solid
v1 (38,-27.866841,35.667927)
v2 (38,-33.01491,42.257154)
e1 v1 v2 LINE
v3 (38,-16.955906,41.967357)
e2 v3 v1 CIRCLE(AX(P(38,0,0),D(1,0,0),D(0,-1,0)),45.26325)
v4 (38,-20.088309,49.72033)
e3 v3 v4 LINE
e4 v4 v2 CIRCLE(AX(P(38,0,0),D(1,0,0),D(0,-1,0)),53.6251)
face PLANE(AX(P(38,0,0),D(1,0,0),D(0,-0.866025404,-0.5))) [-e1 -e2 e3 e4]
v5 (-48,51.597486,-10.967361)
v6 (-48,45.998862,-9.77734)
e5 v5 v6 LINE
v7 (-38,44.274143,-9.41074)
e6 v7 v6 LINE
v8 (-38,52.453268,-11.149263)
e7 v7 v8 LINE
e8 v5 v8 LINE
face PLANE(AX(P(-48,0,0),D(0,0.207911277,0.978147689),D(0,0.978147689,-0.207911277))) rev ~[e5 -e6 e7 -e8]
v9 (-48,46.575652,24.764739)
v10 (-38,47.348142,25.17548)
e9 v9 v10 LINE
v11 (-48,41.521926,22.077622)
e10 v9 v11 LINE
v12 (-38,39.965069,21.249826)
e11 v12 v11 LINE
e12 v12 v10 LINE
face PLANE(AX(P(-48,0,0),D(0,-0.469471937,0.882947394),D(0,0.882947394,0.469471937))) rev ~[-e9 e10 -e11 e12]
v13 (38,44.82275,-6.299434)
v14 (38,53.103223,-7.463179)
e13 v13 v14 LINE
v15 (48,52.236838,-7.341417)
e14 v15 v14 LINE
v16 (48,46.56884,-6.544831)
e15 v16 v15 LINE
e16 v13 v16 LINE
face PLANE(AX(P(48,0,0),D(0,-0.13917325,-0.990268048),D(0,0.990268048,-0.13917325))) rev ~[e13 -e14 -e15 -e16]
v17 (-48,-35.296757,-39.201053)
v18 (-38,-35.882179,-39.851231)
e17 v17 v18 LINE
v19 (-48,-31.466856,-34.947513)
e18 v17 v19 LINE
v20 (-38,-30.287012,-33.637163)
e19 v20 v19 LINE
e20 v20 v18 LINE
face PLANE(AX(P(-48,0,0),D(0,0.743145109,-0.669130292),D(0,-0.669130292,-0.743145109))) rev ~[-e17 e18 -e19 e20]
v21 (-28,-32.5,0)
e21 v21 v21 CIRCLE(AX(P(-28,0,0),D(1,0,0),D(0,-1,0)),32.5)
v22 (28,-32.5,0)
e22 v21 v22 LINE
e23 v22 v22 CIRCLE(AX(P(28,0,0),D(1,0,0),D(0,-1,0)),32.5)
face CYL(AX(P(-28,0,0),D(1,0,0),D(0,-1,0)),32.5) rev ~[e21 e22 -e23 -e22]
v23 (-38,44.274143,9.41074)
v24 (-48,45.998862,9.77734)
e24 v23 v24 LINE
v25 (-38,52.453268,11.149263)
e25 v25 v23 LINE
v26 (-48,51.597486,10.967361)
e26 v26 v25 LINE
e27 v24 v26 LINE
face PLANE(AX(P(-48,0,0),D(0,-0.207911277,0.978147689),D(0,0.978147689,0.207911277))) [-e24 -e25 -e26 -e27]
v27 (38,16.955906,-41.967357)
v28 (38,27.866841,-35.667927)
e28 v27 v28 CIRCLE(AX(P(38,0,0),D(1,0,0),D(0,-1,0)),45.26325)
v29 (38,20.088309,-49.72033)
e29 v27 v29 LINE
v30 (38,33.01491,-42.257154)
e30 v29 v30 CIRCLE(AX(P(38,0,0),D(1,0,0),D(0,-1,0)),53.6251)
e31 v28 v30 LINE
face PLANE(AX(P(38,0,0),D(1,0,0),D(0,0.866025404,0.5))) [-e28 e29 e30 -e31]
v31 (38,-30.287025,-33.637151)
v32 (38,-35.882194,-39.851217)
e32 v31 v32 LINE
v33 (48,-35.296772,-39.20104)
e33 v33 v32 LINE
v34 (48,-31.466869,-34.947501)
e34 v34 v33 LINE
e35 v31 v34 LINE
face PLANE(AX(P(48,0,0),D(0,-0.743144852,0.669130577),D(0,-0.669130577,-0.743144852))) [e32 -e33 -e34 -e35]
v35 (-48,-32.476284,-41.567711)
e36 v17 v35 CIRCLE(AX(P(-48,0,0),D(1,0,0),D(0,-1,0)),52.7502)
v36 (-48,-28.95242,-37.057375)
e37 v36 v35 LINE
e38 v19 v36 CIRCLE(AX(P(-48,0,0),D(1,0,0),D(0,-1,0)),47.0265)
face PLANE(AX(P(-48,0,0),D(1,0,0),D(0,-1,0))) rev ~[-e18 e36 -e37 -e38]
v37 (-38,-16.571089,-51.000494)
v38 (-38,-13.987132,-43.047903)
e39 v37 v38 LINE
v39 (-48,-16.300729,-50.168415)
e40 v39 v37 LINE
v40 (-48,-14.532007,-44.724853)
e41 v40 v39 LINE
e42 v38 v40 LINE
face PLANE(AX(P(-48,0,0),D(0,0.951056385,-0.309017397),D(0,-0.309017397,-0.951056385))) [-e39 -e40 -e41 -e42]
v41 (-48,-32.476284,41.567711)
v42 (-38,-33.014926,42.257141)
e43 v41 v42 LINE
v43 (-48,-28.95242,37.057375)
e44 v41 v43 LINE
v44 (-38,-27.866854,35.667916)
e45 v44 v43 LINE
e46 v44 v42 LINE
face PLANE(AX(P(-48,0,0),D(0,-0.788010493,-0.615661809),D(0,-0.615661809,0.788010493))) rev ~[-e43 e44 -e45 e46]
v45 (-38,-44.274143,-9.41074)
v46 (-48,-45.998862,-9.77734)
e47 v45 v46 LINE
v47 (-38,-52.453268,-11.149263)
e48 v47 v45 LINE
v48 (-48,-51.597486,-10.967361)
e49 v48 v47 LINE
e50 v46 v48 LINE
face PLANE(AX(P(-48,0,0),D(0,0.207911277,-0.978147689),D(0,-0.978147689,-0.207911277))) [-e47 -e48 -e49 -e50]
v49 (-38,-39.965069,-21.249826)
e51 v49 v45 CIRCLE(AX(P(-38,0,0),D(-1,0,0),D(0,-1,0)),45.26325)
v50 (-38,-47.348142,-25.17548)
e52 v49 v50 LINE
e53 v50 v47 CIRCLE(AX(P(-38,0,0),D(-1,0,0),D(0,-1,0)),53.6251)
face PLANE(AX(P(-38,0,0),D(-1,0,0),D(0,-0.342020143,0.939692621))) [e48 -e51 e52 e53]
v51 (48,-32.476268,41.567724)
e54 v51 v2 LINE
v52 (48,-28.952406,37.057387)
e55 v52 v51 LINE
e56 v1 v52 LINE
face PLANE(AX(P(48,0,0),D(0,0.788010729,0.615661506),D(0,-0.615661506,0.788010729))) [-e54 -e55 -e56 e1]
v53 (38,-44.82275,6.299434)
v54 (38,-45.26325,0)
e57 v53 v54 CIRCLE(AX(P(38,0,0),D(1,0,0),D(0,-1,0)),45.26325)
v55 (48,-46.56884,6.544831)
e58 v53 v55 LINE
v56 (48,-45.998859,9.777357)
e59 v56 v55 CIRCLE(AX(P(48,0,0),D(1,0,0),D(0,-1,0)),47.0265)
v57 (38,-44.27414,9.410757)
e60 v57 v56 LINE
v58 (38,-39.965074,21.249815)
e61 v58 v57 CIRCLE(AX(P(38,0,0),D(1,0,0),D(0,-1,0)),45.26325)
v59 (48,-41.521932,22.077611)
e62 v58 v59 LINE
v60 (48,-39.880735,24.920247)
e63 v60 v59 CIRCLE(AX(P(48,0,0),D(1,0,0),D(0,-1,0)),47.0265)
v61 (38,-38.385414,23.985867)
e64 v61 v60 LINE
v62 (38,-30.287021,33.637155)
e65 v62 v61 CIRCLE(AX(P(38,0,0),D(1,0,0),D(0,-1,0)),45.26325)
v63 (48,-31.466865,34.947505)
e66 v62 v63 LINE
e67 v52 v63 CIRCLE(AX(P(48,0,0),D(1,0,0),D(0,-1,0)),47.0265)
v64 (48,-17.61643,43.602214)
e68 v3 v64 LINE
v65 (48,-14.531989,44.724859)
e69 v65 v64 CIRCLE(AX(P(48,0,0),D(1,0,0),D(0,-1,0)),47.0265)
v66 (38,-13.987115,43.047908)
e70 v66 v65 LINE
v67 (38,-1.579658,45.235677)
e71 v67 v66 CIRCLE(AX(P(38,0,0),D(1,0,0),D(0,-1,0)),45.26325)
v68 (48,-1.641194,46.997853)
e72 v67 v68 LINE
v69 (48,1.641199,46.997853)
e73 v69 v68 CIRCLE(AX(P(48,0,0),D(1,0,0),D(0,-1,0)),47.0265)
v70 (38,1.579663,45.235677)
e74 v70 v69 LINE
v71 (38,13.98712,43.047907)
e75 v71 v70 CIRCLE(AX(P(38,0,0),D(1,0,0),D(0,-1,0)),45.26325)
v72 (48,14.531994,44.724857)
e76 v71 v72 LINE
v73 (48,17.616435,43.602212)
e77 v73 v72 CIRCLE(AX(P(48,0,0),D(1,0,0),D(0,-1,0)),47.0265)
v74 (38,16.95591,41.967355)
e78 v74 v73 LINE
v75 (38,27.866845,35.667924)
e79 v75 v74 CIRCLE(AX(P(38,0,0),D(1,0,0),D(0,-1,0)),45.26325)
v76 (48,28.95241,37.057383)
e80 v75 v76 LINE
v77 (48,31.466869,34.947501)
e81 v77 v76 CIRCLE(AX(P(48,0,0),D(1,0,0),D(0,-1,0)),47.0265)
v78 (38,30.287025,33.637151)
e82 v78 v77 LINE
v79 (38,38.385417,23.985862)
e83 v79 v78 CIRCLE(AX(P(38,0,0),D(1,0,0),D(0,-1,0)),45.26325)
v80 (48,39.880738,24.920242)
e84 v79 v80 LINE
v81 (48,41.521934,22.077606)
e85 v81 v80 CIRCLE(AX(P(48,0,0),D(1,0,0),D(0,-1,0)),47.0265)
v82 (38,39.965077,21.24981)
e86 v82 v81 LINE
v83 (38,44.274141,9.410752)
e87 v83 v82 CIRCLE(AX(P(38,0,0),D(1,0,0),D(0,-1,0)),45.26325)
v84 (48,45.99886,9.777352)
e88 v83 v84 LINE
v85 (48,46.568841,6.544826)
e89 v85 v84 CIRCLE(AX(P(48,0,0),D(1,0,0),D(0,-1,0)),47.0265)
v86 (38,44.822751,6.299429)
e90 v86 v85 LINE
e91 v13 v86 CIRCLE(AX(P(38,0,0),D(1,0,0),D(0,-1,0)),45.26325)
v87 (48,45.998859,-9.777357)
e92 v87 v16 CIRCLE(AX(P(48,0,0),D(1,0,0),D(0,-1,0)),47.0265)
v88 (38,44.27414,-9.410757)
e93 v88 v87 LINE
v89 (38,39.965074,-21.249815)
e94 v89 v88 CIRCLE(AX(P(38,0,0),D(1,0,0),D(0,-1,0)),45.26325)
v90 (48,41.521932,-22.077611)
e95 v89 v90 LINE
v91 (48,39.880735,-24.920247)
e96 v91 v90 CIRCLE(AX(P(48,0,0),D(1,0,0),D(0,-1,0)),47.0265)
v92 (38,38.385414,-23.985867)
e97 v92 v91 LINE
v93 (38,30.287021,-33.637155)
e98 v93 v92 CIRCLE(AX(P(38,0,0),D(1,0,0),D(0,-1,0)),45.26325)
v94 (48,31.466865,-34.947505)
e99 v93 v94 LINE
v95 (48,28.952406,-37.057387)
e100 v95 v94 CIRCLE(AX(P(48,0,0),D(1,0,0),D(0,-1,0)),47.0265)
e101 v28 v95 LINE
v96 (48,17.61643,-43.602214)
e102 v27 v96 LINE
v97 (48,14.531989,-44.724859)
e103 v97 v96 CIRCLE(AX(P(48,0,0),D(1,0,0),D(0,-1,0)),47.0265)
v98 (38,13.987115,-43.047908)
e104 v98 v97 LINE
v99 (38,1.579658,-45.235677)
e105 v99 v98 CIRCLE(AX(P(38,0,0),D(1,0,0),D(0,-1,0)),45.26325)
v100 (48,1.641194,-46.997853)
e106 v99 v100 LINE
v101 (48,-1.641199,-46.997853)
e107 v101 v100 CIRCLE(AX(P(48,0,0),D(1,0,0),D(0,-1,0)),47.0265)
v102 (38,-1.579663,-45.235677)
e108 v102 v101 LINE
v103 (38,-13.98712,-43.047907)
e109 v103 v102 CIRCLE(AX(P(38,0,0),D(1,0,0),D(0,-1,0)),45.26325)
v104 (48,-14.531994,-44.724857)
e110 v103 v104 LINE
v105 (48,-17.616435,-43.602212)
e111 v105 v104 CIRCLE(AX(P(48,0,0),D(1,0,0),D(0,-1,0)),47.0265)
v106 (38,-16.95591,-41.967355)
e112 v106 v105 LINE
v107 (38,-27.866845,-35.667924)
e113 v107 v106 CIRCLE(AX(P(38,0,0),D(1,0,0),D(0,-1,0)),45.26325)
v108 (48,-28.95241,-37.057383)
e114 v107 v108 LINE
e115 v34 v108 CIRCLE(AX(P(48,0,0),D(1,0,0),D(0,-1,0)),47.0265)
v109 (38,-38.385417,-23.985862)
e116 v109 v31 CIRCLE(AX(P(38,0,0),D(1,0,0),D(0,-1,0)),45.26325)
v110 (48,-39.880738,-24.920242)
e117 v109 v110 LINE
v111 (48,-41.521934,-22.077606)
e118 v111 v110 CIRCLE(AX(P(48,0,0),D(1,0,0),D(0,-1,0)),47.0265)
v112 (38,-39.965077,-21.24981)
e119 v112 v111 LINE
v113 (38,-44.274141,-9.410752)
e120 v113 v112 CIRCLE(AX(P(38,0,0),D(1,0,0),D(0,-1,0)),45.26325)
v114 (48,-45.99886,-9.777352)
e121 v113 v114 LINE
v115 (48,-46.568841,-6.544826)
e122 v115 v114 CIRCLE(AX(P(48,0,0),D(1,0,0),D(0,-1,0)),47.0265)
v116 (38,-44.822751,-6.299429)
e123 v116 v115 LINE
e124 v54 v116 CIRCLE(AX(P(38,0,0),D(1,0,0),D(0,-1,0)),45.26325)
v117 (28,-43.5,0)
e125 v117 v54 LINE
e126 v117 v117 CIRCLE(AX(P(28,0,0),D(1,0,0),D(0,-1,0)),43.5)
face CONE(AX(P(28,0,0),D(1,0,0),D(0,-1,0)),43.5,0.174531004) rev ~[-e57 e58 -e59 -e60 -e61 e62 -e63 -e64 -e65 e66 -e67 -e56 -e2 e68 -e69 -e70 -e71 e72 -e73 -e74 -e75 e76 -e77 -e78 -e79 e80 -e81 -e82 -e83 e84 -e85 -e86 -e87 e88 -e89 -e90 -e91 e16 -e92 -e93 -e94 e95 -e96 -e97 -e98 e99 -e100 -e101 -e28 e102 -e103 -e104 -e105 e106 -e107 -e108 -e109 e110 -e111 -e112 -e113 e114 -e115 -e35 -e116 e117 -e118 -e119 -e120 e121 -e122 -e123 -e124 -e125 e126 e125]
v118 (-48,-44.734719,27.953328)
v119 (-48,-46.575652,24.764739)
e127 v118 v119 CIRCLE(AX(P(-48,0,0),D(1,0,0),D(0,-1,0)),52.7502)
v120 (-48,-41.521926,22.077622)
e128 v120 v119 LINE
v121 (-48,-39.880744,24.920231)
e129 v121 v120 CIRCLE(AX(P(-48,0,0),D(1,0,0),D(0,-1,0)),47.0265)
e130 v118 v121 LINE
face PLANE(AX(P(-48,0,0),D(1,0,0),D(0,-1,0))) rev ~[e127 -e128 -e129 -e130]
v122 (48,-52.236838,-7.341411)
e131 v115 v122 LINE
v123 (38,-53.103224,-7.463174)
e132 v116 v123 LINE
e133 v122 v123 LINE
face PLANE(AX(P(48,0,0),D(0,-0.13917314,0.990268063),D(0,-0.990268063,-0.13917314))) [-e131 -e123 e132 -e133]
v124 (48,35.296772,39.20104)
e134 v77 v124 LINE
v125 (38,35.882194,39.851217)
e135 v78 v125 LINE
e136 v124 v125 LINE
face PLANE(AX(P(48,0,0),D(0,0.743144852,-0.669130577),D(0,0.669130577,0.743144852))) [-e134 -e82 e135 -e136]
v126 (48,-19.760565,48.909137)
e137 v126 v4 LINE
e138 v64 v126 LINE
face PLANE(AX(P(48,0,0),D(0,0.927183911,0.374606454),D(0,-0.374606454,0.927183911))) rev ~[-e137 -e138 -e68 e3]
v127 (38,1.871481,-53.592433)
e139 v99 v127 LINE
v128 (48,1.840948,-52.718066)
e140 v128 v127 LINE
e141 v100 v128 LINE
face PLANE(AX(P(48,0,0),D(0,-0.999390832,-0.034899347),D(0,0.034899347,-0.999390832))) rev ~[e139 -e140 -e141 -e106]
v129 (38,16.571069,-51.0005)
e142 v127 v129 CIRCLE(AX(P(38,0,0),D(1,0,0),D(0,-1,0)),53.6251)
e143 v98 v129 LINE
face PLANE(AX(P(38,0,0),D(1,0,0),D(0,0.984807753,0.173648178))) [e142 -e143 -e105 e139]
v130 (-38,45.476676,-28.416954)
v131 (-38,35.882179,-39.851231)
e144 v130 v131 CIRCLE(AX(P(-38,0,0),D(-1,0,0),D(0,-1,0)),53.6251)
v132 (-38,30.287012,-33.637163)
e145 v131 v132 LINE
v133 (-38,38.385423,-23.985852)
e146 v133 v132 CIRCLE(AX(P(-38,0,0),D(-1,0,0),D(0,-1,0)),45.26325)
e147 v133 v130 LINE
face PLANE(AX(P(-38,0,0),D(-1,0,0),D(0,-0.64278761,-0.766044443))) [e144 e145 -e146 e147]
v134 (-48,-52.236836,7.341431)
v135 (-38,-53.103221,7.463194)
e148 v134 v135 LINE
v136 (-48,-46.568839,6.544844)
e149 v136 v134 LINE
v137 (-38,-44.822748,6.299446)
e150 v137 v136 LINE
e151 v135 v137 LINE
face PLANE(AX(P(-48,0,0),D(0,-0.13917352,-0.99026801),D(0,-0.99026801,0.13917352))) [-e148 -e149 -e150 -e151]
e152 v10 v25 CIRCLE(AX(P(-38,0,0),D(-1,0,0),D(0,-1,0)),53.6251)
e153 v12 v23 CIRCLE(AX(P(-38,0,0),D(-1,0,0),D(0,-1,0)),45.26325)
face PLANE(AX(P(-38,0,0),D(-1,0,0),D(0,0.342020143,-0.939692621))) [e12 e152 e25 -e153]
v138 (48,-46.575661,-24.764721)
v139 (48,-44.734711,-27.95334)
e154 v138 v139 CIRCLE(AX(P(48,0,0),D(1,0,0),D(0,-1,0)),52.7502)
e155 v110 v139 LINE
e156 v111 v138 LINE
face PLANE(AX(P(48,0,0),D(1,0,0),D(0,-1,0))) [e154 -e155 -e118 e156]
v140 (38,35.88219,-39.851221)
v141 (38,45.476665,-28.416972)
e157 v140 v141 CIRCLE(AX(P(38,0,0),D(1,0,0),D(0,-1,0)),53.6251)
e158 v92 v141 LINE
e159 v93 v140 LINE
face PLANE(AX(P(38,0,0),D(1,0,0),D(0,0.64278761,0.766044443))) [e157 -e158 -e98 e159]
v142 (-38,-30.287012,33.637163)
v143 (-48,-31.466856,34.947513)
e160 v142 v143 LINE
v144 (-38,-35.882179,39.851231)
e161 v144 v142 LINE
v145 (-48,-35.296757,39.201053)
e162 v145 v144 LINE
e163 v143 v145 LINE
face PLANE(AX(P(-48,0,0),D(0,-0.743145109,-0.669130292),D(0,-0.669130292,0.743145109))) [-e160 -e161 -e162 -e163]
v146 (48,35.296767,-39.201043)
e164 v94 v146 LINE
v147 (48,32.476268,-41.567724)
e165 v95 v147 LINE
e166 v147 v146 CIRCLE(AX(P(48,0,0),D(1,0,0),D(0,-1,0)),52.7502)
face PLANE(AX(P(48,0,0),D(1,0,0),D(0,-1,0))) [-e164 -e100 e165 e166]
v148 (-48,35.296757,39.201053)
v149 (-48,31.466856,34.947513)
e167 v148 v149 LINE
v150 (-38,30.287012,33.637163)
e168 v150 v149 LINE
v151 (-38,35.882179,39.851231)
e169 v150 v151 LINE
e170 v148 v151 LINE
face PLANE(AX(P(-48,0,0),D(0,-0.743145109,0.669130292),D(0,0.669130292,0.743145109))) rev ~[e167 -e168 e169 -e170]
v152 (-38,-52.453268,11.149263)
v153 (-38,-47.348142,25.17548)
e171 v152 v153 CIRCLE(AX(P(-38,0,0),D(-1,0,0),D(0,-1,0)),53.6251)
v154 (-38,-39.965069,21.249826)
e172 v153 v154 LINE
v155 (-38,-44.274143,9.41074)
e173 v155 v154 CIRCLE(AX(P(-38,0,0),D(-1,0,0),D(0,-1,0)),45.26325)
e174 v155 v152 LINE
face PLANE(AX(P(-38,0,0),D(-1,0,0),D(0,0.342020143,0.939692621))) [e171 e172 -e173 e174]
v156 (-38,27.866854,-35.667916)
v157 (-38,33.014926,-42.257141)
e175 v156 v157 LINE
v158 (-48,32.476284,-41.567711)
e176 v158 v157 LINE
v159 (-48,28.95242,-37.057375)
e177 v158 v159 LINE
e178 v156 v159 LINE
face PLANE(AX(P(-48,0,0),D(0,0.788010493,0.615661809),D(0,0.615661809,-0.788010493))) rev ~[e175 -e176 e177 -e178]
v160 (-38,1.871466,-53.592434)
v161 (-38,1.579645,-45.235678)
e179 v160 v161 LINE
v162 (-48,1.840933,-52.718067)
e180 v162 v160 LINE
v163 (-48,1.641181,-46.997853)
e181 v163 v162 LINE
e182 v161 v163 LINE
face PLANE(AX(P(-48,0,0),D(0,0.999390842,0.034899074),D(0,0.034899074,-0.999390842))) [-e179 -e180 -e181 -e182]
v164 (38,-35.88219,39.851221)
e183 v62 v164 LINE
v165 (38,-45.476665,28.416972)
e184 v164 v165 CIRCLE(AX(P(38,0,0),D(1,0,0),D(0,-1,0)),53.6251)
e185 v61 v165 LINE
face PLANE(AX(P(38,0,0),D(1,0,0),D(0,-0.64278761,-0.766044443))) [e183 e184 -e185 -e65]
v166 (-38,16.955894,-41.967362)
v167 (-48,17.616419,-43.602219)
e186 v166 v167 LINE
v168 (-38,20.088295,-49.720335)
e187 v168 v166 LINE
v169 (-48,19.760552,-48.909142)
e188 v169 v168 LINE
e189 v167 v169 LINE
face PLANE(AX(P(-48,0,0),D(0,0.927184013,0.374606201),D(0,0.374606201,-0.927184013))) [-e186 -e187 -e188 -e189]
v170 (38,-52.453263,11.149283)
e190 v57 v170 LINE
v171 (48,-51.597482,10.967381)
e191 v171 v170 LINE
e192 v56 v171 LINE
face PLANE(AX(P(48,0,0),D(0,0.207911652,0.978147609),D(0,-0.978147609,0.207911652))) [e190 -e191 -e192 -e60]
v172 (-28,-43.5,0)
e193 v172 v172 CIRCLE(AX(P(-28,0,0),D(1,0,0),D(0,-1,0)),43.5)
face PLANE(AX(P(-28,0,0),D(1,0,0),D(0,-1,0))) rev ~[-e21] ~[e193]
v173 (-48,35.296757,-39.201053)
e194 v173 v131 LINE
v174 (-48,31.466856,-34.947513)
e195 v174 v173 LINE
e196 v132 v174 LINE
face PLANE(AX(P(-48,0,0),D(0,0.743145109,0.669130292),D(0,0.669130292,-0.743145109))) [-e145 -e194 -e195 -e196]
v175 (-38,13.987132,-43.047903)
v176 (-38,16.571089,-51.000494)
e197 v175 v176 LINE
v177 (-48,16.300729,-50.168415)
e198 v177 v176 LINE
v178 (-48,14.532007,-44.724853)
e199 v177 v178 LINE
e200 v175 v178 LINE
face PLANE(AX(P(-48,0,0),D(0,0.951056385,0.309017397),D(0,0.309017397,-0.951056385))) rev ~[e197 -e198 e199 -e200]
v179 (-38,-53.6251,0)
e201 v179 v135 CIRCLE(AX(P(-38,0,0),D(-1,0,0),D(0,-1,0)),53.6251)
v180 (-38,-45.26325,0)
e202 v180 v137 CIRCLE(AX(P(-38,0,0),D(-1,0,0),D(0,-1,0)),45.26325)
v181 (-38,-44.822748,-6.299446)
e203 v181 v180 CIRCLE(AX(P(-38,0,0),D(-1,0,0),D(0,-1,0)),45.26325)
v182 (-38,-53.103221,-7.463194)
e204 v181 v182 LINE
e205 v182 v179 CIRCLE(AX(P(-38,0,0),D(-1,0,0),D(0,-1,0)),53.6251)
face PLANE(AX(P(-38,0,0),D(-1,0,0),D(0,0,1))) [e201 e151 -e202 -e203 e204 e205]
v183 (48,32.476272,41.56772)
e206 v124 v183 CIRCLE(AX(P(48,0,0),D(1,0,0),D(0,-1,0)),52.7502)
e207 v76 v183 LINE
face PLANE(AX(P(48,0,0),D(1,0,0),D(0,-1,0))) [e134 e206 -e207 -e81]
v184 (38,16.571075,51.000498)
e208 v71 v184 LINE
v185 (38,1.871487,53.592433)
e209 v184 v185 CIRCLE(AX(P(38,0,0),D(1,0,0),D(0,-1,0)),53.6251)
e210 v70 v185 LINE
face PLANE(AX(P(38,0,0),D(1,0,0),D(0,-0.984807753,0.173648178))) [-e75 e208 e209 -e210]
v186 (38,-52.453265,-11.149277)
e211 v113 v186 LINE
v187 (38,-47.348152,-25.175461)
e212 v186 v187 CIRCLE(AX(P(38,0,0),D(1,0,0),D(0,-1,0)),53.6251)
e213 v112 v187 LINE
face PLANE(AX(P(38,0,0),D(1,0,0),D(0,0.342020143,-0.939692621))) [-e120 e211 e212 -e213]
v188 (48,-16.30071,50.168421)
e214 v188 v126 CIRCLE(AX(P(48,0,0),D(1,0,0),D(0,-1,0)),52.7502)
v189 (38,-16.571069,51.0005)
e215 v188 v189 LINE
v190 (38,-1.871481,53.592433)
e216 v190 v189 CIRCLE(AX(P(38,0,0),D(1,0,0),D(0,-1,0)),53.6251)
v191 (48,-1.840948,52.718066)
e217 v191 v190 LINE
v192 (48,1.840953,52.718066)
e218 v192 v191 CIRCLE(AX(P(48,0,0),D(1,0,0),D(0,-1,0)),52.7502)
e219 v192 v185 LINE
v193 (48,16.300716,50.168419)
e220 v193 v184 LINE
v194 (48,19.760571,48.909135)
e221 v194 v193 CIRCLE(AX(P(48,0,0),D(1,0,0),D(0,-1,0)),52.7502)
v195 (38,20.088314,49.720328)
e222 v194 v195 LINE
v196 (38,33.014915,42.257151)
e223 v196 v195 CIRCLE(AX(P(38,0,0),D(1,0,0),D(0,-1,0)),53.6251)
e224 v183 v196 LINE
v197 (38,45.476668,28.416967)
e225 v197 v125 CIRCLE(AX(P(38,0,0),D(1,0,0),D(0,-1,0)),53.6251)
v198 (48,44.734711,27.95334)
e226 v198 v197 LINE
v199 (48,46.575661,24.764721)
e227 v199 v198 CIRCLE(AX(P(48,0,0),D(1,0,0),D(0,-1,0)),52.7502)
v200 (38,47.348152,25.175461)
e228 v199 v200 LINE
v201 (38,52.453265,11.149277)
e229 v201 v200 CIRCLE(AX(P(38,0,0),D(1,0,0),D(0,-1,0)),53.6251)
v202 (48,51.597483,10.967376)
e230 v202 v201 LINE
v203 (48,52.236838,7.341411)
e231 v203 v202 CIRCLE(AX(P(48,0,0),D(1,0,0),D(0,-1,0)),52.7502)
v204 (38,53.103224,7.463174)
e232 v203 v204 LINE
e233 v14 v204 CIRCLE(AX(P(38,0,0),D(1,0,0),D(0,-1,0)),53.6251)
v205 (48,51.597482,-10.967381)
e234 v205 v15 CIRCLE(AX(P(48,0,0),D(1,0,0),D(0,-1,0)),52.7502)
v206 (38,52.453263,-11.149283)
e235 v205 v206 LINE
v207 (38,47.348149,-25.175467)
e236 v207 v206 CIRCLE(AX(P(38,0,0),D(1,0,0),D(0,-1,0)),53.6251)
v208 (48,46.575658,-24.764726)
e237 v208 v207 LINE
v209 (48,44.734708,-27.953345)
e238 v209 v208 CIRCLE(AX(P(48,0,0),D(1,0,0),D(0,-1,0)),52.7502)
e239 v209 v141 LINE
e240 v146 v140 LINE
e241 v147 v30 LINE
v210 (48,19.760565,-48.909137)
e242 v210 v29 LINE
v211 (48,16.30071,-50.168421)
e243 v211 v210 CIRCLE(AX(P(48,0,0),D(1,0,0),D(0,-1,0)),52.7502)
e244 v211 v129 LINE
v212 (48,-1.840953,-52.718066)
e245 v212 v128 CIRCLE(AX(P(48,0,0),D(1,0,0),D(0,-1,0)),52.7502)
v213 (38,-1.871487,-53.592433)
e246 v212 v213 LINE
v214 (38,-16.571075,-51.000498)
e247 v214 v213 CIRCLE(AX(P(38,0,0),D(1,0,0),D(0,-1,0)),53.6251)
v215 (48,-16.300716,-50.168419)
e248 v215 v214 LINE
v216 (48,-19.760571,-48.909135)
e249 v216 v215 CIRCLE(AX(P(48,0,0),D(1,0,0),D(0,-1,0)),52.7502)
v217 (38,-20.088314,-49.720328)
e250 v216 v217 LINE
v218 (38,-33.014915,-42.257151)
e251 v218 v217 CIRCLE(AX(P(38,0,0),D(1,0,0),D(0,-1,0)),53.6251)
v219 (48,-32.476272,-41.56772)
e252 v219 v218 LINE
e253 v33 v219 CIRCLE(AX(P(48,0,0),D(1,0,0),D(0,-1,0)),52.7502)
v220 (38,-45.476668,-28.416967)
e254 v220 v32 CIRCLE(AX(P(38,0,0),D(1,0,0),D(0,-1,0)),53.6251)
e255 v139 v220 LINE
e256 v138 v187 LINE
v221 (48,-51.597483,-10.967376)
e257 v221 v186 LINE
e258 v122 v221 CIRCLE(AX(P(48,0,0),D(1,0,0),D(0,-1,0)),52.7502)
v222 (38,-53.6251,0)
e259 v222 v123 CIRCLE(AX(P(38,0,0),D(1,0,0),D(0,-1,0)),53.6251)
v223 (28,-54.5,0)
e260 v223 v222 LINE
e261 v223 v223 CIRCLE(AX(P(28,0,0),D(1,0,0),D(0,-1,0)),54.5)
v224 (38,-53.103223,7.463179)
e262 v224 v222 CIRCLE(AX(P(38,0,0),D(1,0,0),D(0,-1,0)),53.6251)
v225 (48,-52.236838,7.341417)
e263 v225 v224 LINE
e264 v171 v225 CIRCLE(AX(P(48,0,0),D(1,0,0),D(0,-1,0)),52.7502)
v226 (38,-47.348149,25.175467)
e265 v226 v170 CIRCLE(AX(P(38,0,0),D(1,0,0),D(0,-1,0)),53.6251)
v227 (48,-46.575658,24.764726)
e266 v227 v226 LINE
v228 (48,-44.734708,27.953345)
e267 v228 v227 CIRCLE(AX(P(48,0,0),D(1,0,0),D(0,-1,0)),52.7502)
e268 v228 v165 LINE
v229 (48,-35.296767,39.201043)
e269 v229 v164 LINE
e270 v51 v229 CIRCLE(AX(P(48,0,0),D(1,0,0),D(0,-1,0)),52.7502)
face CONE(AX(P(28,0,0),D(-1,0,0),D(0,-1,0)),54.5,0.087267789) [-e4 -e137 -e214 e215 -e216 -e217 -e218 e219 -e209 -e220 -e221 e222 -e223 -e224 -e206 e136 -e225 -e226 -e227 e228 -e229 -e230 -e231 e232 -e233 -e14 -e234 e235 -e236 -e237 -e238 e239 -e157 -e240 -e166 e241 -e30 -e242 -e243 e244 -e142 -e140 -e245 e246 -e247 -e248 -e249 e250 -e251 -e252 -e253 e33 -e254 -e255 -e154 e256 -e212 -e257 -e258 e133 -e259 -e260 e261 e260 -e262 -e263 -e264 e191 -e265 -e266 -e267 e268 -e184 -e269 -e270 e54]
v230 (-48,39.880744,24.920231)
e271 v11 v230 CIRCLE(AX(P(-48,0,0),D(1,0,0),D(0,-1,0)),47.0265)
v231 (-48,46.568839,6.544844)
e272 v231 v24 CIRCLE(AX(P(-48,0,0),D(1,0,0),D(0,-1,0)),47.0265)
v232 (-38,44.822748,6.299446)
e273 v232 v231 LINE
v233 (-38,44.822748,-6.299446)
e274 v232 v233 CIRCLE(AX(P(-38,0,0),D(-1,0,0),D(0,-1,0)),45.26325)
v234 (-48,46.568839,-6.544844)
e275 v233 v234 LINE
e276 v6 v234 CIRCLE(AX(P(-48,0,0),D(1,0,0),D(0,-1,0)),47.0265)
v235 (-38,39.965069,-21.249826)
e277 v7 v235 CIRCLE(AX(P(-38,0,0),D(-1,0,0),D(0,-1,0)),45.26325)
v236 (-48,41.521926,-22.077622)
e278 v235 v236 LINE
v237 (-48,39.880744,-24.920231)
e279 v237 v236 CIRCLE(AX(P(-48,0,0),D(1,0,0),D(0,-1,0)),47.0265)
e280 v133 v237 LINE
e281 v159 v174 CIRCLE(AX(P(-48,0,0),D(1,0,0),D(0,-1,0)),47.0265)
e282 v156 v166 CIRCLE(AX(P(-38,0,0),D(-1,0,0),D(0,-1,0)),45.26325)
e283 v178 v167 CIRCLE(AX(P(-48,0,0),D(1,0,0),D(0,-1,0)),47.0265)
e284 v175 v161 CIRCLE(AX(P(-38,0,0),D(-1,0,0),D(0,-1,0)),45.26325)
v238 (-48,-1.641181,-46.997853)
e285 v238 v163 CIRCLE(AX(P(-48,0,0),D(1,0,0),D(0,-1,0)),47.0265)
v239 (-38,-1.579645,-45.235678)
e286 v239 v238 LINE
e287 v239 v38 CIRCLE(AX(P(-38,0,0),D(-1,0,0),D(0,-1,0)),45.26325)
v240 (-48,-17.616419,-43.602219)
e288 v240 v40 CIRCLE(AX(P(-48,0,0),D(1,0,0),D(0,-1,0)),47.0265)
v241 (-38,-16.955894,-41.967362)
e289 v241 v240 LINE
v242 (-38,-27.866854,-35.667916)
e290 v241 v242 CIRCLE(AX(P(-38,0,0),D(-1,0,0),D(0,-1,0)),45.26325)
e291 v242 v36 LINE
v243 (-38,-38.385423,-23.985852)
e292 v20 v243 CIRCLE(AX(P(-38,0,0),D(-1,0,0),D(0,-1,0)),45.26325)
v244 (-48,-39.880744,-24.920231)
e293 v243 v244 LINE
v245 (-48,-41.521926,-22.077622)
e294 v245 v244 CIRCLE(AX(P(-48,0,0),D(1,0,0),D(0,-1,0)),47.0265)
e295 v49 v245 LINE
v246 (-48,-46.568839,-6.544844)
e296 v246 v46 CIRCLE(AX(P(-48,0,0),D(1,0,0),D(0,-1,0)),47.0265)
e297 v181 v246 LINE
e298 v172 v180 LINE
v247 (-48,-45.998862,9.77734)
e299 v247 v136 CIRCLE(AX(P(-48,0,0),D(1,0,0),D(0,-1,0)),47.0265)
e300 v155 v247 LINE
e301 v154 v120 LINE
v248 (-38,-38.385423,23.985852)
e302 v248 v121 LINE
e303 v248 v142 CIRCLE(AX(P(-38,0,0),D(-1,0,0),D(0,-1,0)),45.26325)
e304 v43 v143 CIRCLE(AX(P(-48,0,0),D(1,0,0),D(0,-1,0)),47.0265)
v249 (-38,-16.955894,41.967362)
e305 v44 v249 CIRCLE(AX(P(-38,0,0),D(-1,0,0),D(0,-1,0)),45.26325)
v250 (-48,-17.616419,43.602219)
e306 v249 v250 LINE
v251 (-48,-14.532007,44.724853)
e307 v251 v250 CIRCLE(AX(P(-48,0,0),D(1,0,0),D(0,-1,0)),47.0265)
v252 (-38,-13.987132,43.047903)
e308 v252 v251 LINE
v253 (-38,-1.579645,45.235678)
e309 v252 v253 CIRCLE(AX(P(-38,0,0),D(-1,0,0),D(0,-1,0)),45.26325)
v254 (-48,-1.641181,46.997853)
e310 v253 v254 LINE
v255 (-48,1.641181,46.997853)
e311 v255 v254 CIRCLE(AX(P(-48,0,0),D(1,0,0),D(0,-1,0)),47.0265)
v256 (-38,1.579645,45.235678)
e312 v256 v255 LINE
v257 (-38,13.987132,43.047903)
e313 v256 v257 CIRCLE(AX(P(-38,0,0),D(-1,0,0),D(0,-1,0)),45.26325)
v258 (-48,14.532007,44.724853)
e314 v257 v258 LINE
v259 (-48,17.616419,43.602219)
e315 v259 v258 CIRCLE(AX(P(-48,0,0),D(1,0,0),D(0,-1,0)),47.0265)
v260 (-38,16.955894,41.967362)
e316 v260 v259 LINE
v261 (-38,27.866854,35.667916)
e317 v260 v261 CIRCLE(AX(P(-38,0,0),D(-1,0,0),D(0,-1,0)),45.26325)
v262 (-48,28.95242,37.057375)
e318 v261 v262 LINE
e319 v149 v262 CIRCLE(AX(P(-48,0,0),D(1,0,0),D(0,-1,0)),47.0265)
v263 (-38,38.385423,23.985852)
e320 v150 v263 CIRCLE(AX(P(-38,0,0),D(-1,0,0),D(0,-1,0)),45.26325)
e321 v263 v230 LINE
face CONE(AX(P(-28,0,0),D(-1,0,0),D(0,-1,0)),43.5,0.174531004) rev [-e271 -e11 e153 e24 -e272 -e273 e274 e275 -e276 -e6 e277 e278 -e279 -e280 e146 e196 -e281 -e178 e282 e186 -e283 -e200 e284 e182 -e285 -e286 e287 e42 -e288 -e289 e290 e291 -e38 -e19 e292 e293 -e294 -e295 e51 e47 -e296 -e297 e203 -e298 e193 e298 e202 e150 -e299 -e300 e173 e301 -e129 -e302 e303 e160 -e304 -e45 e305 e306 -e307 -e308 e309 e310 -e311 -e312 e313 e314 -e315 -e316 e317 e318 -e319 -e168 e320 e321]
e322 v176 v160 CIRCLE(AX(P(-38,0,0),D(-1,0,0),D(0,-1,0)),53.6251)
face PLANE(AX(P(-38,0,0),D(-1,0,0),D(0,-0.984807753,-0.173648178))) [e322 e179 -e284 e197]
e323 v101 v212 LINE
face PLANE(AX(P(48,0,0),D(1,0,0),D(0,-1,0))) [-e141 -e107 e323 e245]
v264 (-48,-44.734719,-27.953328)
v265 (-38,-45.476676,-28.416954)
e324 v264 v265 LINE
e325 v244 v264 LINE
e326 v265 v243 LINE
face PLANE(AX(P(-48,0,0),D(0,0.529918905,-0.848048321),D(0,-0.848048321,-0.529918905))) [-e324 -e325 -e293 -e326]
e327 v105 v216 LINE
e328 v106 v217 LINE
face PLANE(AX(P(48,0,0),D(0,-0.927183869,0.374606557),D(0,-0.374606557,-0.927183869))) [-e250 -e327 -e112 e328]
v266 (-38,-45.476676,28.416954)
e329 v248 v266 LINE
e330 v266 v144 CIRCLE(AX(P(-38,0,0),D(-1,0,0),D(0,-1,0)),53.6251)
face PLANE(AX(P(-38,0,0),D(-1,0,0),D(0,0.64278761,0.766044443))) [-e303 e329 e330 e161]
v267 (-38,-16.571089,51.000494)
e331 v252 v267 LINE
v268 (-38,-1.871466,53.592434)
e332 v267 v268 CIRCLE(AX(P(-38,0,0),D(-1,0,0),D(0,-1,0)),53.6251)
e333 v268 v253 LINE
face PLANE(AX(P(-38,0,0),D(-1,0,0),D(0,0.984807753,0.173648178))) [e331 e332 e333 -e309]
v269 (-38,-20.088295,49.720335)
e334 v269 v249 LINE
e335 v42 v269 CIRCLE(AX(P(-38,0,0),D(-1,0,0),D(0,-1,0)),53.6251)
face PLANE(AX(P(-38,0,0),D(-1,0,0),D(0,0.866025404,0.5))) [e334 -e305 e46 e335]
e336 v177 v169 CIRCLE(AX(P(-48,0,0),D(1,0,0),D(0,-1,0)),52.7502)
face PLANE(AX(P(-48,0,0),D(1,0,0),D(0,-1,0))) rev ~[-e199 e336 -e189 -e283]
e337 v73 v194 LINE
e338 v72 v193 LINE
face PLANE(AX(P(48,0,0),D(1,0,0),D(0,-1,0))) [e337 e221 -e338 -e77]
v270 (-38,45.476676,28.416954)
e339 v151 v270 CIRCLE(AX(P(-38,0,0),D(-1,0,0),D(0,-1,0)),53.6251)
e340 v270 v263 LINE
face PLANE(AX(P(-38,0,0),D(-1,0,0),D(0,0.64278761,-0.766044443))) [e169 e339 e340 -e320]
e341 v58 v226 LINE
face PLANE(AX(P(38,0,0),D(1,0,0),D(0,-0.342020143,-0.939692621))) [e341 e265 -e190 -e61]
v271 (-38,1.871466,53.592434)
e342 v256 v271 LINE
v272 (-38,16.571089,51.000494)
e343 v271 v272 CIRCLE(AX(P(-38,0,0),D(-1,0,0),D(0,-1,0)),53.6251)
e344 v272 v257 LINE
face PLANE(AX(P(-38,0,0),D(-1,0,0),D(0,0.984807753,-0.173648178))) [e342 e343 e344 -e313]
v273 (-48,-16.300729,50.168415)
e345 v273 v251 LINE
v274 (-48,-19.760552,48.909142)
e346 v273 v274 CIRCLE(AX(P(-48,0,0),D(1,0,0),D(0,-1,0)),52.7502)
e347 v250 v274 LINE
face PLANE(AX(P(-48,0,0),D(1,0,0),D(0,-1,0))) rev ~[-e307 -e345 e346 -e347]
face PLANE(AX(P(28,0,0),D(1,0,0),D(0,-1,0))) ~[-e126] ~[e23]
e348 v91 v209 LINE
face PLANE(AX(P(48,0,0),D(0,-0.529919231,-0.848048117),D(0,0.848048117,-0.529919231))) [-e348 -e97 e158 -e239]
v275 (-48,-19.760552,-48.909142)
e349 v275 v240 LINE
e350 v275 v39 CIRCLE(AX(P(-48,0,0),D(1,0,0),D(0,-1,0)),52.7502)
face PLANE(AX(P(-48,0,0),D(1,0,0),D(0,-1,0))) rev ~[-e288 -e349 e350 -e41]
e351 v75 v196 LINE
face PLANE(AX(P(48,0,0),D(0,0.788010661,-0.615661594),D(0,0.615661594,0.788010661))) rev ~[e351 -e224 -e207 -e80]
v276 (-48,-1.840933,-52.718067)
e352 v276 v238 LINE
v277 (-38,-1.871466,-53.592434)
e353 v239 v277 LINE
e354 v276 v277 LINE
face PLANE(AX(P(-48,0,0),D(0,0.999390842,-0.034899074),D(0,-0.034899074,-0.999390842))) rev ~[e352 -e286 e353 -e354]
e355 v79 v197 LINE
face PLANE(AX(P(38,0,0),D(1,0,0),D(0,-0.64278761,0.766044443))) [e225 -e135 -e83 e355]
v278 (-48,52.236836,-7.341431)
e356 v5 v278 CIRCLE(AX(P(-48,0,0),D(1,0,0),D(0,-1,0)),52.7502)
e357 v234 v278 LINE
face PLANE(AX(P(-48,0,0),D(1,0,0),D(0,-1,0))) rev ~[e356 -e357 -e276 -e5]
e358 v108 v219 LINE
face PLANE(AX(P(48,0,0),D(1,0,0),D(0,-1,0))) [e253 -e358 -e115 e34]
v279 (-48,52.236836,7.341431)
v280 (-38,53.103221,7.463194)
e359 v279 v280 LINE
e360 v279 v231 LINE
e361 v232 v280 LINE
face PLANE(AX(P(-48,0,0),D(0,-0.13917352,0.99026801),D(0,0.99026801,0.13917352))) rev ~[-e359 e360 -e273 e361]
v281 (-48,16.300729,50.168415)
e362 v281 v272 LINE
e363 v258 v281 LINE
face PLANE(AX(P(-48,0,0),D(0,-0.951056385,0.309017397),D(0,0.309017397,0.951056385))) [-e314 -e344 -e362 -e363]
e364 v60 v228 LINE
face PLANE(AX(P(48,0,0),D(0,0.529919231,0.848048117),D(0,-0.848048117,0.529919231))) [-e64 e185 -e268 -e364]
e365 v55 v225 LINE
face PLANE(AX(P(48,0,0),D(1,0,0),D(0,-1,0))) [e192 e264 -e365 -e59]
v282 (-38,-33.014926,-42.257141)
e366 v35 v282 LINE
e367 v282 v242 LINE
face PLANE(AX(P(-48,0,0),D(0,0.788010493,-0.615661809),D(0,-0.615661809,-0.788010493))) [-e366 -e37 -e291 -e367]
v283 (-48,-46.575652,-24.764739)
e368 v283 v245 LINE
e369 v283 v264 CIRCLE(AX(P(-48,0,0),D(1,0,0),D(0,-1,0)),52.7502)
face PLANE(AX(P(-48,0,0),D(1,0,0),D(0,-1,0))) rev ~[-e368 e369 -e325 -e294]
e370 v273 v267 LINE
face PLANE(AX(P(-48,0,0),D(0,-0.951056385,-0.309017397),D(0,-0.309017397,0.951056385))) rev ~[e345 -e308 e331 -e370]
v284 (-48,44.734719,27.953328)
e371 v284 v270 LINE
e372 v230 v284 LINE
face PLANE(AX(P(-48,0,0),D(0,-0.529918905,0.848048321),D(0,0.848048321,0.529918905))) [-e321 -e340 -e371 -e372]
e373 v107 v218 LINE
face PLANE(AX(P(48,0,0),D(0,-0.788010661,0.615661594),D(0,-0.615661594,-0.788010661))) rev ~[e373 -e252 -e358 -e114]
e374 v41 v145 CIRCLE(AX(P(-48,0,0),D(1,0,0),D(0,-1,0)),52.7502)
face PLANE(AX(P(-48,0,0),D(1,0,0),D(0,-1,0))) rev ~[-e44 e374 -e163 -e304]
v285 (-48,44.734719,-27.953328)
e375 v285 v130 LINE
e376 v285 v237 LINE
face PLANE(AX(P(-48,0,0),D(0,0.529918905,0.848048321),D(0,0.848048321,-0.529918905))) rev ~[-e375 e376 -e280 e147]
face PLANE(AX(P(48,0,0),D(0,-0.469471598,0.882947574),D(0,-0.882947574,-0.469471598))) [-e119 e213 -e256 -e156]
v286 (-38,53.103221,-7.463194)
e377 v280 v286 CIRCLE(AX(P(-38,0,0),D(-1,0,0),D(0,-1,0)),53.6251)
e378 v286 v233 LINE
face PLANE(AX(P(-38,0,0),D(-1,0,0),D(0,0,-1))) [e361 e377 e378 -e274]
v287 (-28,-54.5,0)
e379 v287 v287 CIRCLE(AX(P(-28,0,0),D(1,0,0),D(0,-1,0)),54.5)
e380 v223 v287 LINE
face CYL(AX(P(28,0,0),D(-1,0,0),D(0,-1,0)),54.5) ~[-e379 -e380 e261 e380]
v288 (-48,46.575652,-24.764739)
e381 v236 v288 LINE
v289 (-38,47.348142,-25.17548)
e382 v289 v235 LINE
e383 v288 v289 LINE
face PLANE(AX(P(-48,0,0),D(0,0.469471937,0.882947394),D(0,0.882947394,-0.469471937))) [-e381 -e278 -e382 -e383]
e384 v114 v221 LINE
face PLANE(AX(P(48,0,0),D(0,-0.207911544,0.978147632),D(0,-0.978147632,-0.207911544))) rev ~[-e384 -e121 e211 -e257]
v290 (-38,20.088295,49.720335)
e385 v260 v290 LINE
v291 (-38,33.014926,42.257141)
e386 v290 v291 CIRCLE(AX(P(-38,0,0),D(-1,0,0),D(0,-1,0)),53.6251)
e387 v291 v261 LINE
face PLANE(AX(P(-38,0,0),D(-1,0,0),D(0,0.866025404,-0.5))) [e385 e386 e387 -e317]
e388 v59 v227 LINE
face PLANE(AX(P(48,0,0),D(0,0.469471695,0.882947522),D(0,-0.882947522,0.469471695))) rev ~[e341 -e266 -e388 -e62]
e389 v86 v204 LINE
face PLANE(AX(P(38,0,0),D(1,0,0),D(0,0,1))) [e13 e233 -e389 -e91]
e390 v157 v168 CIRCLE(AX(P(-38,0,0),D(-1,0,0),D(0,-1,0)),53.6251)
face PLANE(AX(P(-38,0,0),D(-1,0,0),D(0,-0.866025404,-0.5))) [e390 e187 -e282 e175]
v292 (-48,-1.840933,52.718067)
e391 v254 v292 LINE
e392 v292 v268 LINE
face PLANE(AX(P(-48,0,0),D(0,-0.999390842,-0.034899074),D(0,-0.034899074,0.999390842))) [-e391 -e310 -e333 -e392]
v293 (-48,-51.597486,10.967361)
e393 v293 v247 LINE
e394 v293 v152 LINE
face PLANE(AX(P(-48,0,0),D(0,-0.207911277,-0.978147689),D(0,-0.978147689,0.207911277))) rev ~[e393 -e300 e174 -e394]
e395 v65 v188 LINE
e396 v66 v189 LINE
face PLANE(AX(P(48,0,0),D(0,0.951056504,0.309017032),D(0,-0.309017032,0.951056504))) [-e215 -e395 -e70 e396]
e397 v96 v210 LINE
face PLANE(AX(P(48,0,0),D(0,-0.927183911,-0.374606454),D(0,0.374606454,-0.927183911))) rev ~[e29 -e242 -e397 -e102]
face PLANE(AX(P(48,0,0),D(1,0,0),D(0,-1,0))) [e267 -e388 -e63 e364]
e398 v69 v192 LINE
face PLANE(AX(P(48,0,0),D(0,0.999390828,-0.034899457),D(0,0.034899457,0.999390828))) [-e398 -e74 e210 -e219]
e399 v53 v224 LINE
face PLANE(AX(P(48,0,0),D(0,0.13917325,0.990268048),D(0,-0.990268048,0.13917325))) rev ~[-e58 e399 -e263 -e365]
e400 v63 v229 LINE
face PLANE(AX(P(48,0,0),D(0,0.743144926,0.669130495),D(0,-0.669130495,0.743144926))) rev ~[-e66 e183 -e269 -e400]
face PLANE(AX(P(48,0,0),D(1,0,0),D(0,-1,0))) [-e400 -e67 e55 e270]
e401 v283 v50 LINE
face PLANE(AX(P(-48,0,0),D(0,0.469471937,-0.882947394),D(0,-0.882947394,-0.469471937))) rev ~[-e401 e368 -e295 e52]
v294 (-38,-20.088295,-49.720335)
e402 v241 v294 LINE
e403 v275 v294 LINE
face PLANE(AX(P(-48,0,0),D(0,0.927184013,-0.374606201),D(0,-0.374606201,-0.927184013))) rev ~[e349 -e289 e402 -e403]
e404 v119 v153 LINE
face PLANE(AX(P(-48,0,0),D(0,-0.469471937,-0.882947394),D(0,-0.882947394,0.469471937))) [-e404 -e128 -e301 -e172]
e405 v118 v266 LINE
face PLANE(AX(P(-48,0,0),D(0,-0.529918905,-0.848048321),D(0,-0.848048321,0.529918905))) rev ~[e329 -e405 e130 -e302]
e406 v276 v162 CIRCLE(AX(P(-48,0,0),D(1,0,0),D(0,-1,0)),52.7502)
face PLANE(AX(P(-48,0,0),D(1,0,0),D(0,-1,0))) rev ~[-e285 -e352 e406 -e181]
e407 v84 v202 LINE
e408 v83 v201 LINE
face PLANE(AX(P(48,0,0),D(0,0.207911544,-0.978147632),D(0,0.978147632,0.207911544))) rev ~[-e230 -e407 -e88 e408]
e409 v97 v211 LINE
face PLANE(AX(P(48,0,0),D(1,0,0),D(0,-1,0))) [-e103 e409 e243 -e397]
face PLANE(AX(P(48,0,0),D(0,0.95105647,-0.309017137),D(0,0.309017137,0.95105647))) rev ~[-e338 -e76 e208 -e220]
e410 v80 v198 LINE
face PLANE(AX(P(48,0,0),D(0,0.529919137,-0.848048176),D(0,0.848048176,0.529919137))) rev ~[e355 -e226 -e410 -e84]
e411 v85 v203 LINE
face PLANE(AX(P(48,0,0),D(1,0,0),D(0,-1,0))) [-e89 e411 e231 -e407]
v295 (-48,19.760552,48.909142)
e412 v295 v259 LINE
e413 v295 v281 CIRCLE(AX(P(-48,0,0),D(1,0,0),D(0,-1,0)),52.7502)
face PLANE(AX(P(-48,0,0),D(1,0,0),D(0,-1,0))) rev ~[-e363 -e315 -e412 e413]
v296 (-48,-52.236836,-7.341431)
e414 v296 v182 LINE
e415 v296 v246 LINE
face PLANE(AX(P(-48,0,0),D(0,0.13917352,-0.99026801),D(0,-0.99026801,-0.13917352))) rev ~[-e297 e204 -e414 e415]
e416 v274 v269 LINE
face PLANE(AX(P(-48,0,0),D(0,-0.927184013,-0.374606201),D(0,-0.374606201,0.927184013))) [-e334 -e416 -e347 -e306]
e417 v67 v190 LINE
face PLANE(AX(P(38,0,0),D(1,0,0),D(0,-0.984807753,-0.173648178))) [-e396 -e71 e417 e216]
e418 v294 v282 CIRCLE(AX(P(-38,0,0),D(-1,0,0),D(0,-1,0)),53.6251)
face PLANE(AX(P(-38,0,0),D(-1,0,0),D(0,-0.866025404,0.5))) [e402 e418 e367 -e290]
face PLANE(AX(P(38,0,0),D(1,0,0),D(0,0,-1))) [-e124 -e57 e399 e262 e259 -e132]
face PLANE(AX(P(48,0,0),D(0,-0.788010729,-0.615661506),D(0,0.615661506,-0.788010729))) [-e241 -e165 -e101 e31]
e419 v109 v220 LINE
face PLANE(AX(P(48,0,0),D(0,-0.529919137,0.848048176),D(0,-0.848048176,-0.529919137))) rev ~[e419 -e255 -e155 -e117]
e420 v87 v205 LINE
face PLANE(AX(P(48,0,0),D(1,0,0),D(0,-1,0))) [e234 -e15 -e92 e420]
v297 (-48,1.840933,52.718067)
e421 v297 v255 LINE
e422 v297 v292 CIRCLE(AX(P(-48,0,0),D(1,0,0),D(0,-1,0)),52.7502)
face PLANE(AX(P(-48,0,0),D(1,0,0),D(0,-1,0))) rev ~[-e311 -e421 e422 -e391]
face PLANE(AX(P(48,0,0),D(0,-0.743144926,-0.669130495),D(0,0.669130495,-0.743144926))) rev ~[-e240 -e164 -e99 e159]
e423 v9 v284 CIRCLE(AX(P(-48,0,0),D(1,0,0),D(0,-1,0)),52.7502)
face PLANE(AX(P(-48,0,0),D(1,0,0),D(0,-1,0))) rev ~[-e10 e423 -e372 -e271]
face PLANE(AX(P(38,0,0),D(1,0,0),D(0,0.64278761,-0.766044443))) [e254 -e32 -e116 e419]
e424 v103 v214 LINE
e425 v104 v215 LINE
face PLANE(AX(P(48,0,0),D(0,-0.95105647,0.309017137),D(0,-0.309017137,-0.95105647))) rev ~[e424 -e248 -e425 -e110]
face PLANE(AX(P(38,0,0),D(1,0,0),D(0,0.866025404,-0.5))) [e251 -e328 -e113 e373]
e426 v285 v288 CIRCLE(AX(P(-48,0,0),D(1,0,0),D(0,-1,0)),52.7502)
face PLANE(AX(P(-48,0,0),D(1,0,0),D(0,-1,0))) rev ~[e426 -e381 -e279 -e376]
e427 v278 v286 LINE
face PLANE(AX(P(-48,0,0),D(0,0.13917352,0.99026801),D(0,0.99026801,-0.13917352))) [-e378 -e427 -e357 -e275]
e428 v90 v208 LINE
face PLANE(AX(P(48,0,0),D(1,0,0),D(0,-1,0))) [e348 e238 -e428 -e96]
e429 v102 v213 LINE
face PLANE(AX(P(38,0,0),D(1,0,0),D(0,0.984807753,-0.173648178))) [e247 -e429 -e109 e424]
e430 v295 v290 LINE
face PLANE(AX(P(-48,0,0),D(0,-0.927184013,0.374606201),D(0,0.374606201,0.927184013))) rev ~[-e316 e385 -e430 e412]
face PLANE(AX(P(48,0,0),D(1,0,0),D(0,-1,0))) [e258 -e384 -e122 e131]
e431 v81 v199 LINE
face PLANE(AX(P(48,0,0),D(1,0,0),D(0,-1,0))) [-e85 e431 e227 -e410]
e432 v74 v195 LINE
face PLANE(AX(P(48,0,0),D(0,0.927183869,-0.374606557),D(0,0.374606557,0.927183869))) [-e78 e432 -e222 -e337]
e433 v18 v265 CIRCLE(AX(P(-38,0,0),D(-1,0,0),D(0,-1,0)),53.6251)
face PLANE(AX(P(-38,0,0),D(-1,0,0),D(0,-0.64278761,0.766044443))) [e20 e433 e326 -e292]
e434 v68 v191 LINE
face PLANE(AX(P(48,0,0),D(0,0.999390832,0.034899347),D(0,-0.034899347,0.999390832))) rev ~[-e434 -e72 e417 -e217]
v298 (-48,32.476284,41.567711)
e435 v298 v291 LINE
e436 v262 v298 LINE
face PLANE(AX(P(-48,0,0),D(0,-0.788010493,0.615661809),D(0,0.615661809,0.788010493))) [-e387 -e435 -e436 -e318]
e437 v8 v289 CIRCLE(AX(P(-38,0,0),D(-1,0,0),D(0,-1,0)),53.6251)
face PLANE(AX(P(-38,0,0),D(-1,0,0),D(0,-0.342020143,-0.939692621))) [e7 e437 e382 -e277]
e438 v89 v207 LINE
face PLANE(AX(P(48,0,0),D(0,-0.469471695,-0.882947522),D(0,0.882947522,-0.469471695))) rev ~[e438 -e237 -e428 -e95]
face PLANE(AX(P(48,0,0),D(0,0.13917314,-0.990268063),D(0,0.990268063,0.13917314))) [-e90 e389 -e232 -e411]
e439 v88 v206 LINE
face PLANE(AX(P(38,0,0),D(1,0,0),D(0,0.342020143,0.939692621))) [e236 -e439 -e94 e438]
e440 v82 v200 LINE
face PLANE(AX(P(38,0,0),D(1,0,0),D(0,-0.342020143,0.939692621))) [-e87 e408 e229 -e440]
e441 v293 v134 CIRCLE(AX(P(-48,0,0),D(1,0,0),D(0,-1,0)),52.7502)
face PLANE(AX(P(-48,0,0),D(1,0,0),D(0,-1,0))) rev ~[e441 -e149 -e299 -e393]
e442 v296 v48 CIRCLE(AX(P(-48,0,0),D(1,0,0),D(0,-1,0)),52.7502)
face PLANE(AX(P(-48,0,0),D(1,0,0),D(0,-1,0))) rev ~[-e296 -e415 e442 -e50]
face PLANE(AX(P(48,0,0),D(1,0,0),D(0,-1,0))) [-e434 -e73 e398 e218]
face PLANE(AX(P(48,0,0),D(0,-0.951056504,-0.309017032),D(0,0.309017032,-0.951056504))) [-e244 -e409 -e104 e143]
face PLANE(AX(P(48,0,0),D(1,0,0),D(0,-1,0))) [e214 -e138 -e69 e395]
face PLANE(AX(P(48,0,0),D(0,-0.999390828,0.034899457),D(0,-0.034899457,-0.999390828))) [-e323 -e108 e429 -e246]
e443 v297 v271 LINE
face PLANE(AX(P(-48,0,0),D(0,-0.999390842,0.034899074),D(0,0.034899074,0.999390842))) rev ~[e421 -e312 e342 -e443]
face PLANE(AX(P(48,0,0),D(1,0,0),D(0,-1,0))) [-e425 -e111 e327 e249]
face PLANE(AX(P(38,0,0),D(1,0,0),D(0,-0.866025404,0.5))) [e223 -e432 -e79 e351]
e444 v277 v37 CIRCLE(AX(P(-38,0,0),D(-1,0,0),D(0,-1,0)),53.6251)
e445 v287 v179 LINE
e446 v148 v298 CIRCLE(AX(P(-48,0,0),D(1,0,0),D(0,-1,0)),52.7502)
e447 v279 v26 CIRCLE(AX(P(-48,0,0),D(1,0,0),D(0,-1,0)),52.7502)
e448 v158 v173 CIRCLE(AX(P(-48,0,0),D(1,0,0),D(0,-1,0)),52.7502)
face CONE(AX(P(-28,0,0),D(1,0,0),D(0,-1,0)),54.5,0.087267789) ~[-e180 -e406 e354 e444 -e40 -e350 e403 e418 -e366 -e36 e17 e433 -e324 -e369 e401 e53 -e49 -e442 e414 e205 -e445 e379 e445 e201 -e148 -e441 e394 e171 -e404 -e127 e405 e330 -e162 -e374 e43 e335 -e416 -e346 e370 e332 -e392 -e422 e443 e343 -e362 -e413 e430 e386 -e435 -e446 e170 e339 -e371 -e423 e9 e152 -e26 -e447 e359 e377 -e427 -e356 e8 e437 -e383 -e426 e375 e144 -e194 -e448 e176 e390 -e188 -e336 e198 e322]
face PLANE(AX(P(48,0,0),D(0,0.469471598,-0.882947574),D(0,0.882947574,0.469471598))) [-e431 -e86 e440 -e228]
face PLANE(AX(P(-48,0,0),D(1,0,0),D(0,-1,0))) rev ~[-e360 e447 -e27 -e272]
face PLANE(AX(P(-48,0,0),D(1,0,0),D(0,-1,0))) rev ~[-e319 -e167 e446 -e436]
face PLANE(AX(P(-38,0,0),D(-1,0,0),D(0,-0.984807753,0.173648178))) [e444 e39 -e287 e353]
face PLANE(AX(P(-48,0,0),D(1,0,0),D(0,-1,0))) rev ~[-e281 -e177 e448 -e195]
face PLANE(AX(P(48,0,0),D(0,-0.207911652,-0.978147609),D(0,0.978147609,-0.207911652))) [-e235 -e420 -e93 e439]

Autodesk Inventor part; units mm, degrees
ref_plane "XZ Plane" through (0, 0, 0) normal (0, 1, 0) x (-1, 0, 0)
sketch "Эскиз1" plane through (0, 0, 0) normal (0, 0, 1) x (1, 0, 0)
  line L0 (-28, -32.5) -> (28, -32.5)
  line L1 (28, -32.5) -> (28, -43.5)
  line L2 (28, -54.5) -> (-28, -54.5)
  line L3 (-28, -43.5) -> (-28, -32.5)
  line L4 (-67.2, 0) -> (67.2, 0) projected
  line L5 (-48, -52.7502) -> (-48, -47.0265)
  line L6 (-28, -43.5) -> (-48, -47.0265)
  line L7 (-28, -54.5) -> (-48, -52.7502)
  line L8 (28, -54.5) -> (48, -52.7502)
  line L9 (28, -43.5) -> (48, -47.0265)
  line L10 (48, -52.7502) -> (48, -47.0265)
  point P0 (0, 0)
  dimension "d0" = 56
  dimension "d1" = 32.5
  dimension "d2" = 22
  dimension "d3" = 28
  dimension "d5" = 20
  dimension "d6" = 5
  dimension "d7" = 10
  dimension "d8" = 20
  dimension "d9" = 5
  dimension "d10" = 10
  dimension "d11" = 28
  dimension "d12" = 22
  dimension "d13" = 11
  dimension "d14" = 11
revolve "Вращение1" add sketch "Эскиз1" angle 360 about axis through (-10, 0, 0) along (1, 0, 0)
ref_plane "РабПлоскость1" through (-48, 0, 0) normal (-1, 0, 0) x (0, 0, 1)
sketch "Эскиз3" plane through (-48, 0, 0) normal (-1, 0, 0) x (0, 0, 1)
  circle A0 centre (0, 0) radius 32.5 projected
  arc A1 (-8.6859, -61.8032) -> (8.6859, -61.8032) centre (0, 0) ccw
  line L0 (0, 0) -> (8.6859, -61.8032)
  line L1 (0, 79.8796) -> (0, -97.7775) construction
  line L2 (0, 0) -> (-8.6859, -61.8032)
  point P0 (6.334, -72.3979)
  point P1 (-6.334, -72.3979)
  dimension "d17" = 8
  dimension "d18" = 8
extrude "Выдавливание1" cut sketch "Эскиз3" against normal blind 10 contours L2 L0 A0 | A0 L0 A1 L2 picked at (2.0117, -21.5495)
pattern_circular "Круговой массив1" count 18 over 360 about axis through (-10, 0, 0) along (1, 0, 0) of "Выдавливание1"
ref_plane "РабПлоскость2" through (48, 0, 0) normal (1, 0, 0) x (0, 0, -1)
sketch "Эскиз4" plane through (48, 0, 0) normal (1, 0, 0) x (0, 0, -1)
  circle A0 centre (-0.7714, 0) radius 62.1571
  arc A1 (45.2357, 1.5797) -> (43.0479, 13.9871) centre (0, 0) ccw projected
  line L0 (0, 0) -> (8.635, -61.4412)
  line L1 (0, 0) -> (-8.6649, -61.6539)
  line L2 (0, -87.02) -> (0, 87.02) construction
  dimension "d25" = 8
  dimension "d26" = 8
extrude "Выдавливание2" cut sketch "Эскиз4" against normal blind 10 contours L1 L0 A0 picked at (-3.855, -41.2582)
pattern_circular "Круговой массив2" count 18 over 360 about axis through (-10, 0, 0) along (1, 0, 0) of "Выдавливание2"
equation "\"d3\" = 0.5 * d0"
equation "\"d8\" = d5"
equation "\"d9\" = d6"
equation "\"d10\" = d7"
equation "\"d11\" = d3"
equation "\"d13\" = 0.5 * d12"
equation "\"d14\" = d13"
equation "\"d18\" = d17"
equation "\"d26\" = d25"
properties part number "Сердечник ротора"
